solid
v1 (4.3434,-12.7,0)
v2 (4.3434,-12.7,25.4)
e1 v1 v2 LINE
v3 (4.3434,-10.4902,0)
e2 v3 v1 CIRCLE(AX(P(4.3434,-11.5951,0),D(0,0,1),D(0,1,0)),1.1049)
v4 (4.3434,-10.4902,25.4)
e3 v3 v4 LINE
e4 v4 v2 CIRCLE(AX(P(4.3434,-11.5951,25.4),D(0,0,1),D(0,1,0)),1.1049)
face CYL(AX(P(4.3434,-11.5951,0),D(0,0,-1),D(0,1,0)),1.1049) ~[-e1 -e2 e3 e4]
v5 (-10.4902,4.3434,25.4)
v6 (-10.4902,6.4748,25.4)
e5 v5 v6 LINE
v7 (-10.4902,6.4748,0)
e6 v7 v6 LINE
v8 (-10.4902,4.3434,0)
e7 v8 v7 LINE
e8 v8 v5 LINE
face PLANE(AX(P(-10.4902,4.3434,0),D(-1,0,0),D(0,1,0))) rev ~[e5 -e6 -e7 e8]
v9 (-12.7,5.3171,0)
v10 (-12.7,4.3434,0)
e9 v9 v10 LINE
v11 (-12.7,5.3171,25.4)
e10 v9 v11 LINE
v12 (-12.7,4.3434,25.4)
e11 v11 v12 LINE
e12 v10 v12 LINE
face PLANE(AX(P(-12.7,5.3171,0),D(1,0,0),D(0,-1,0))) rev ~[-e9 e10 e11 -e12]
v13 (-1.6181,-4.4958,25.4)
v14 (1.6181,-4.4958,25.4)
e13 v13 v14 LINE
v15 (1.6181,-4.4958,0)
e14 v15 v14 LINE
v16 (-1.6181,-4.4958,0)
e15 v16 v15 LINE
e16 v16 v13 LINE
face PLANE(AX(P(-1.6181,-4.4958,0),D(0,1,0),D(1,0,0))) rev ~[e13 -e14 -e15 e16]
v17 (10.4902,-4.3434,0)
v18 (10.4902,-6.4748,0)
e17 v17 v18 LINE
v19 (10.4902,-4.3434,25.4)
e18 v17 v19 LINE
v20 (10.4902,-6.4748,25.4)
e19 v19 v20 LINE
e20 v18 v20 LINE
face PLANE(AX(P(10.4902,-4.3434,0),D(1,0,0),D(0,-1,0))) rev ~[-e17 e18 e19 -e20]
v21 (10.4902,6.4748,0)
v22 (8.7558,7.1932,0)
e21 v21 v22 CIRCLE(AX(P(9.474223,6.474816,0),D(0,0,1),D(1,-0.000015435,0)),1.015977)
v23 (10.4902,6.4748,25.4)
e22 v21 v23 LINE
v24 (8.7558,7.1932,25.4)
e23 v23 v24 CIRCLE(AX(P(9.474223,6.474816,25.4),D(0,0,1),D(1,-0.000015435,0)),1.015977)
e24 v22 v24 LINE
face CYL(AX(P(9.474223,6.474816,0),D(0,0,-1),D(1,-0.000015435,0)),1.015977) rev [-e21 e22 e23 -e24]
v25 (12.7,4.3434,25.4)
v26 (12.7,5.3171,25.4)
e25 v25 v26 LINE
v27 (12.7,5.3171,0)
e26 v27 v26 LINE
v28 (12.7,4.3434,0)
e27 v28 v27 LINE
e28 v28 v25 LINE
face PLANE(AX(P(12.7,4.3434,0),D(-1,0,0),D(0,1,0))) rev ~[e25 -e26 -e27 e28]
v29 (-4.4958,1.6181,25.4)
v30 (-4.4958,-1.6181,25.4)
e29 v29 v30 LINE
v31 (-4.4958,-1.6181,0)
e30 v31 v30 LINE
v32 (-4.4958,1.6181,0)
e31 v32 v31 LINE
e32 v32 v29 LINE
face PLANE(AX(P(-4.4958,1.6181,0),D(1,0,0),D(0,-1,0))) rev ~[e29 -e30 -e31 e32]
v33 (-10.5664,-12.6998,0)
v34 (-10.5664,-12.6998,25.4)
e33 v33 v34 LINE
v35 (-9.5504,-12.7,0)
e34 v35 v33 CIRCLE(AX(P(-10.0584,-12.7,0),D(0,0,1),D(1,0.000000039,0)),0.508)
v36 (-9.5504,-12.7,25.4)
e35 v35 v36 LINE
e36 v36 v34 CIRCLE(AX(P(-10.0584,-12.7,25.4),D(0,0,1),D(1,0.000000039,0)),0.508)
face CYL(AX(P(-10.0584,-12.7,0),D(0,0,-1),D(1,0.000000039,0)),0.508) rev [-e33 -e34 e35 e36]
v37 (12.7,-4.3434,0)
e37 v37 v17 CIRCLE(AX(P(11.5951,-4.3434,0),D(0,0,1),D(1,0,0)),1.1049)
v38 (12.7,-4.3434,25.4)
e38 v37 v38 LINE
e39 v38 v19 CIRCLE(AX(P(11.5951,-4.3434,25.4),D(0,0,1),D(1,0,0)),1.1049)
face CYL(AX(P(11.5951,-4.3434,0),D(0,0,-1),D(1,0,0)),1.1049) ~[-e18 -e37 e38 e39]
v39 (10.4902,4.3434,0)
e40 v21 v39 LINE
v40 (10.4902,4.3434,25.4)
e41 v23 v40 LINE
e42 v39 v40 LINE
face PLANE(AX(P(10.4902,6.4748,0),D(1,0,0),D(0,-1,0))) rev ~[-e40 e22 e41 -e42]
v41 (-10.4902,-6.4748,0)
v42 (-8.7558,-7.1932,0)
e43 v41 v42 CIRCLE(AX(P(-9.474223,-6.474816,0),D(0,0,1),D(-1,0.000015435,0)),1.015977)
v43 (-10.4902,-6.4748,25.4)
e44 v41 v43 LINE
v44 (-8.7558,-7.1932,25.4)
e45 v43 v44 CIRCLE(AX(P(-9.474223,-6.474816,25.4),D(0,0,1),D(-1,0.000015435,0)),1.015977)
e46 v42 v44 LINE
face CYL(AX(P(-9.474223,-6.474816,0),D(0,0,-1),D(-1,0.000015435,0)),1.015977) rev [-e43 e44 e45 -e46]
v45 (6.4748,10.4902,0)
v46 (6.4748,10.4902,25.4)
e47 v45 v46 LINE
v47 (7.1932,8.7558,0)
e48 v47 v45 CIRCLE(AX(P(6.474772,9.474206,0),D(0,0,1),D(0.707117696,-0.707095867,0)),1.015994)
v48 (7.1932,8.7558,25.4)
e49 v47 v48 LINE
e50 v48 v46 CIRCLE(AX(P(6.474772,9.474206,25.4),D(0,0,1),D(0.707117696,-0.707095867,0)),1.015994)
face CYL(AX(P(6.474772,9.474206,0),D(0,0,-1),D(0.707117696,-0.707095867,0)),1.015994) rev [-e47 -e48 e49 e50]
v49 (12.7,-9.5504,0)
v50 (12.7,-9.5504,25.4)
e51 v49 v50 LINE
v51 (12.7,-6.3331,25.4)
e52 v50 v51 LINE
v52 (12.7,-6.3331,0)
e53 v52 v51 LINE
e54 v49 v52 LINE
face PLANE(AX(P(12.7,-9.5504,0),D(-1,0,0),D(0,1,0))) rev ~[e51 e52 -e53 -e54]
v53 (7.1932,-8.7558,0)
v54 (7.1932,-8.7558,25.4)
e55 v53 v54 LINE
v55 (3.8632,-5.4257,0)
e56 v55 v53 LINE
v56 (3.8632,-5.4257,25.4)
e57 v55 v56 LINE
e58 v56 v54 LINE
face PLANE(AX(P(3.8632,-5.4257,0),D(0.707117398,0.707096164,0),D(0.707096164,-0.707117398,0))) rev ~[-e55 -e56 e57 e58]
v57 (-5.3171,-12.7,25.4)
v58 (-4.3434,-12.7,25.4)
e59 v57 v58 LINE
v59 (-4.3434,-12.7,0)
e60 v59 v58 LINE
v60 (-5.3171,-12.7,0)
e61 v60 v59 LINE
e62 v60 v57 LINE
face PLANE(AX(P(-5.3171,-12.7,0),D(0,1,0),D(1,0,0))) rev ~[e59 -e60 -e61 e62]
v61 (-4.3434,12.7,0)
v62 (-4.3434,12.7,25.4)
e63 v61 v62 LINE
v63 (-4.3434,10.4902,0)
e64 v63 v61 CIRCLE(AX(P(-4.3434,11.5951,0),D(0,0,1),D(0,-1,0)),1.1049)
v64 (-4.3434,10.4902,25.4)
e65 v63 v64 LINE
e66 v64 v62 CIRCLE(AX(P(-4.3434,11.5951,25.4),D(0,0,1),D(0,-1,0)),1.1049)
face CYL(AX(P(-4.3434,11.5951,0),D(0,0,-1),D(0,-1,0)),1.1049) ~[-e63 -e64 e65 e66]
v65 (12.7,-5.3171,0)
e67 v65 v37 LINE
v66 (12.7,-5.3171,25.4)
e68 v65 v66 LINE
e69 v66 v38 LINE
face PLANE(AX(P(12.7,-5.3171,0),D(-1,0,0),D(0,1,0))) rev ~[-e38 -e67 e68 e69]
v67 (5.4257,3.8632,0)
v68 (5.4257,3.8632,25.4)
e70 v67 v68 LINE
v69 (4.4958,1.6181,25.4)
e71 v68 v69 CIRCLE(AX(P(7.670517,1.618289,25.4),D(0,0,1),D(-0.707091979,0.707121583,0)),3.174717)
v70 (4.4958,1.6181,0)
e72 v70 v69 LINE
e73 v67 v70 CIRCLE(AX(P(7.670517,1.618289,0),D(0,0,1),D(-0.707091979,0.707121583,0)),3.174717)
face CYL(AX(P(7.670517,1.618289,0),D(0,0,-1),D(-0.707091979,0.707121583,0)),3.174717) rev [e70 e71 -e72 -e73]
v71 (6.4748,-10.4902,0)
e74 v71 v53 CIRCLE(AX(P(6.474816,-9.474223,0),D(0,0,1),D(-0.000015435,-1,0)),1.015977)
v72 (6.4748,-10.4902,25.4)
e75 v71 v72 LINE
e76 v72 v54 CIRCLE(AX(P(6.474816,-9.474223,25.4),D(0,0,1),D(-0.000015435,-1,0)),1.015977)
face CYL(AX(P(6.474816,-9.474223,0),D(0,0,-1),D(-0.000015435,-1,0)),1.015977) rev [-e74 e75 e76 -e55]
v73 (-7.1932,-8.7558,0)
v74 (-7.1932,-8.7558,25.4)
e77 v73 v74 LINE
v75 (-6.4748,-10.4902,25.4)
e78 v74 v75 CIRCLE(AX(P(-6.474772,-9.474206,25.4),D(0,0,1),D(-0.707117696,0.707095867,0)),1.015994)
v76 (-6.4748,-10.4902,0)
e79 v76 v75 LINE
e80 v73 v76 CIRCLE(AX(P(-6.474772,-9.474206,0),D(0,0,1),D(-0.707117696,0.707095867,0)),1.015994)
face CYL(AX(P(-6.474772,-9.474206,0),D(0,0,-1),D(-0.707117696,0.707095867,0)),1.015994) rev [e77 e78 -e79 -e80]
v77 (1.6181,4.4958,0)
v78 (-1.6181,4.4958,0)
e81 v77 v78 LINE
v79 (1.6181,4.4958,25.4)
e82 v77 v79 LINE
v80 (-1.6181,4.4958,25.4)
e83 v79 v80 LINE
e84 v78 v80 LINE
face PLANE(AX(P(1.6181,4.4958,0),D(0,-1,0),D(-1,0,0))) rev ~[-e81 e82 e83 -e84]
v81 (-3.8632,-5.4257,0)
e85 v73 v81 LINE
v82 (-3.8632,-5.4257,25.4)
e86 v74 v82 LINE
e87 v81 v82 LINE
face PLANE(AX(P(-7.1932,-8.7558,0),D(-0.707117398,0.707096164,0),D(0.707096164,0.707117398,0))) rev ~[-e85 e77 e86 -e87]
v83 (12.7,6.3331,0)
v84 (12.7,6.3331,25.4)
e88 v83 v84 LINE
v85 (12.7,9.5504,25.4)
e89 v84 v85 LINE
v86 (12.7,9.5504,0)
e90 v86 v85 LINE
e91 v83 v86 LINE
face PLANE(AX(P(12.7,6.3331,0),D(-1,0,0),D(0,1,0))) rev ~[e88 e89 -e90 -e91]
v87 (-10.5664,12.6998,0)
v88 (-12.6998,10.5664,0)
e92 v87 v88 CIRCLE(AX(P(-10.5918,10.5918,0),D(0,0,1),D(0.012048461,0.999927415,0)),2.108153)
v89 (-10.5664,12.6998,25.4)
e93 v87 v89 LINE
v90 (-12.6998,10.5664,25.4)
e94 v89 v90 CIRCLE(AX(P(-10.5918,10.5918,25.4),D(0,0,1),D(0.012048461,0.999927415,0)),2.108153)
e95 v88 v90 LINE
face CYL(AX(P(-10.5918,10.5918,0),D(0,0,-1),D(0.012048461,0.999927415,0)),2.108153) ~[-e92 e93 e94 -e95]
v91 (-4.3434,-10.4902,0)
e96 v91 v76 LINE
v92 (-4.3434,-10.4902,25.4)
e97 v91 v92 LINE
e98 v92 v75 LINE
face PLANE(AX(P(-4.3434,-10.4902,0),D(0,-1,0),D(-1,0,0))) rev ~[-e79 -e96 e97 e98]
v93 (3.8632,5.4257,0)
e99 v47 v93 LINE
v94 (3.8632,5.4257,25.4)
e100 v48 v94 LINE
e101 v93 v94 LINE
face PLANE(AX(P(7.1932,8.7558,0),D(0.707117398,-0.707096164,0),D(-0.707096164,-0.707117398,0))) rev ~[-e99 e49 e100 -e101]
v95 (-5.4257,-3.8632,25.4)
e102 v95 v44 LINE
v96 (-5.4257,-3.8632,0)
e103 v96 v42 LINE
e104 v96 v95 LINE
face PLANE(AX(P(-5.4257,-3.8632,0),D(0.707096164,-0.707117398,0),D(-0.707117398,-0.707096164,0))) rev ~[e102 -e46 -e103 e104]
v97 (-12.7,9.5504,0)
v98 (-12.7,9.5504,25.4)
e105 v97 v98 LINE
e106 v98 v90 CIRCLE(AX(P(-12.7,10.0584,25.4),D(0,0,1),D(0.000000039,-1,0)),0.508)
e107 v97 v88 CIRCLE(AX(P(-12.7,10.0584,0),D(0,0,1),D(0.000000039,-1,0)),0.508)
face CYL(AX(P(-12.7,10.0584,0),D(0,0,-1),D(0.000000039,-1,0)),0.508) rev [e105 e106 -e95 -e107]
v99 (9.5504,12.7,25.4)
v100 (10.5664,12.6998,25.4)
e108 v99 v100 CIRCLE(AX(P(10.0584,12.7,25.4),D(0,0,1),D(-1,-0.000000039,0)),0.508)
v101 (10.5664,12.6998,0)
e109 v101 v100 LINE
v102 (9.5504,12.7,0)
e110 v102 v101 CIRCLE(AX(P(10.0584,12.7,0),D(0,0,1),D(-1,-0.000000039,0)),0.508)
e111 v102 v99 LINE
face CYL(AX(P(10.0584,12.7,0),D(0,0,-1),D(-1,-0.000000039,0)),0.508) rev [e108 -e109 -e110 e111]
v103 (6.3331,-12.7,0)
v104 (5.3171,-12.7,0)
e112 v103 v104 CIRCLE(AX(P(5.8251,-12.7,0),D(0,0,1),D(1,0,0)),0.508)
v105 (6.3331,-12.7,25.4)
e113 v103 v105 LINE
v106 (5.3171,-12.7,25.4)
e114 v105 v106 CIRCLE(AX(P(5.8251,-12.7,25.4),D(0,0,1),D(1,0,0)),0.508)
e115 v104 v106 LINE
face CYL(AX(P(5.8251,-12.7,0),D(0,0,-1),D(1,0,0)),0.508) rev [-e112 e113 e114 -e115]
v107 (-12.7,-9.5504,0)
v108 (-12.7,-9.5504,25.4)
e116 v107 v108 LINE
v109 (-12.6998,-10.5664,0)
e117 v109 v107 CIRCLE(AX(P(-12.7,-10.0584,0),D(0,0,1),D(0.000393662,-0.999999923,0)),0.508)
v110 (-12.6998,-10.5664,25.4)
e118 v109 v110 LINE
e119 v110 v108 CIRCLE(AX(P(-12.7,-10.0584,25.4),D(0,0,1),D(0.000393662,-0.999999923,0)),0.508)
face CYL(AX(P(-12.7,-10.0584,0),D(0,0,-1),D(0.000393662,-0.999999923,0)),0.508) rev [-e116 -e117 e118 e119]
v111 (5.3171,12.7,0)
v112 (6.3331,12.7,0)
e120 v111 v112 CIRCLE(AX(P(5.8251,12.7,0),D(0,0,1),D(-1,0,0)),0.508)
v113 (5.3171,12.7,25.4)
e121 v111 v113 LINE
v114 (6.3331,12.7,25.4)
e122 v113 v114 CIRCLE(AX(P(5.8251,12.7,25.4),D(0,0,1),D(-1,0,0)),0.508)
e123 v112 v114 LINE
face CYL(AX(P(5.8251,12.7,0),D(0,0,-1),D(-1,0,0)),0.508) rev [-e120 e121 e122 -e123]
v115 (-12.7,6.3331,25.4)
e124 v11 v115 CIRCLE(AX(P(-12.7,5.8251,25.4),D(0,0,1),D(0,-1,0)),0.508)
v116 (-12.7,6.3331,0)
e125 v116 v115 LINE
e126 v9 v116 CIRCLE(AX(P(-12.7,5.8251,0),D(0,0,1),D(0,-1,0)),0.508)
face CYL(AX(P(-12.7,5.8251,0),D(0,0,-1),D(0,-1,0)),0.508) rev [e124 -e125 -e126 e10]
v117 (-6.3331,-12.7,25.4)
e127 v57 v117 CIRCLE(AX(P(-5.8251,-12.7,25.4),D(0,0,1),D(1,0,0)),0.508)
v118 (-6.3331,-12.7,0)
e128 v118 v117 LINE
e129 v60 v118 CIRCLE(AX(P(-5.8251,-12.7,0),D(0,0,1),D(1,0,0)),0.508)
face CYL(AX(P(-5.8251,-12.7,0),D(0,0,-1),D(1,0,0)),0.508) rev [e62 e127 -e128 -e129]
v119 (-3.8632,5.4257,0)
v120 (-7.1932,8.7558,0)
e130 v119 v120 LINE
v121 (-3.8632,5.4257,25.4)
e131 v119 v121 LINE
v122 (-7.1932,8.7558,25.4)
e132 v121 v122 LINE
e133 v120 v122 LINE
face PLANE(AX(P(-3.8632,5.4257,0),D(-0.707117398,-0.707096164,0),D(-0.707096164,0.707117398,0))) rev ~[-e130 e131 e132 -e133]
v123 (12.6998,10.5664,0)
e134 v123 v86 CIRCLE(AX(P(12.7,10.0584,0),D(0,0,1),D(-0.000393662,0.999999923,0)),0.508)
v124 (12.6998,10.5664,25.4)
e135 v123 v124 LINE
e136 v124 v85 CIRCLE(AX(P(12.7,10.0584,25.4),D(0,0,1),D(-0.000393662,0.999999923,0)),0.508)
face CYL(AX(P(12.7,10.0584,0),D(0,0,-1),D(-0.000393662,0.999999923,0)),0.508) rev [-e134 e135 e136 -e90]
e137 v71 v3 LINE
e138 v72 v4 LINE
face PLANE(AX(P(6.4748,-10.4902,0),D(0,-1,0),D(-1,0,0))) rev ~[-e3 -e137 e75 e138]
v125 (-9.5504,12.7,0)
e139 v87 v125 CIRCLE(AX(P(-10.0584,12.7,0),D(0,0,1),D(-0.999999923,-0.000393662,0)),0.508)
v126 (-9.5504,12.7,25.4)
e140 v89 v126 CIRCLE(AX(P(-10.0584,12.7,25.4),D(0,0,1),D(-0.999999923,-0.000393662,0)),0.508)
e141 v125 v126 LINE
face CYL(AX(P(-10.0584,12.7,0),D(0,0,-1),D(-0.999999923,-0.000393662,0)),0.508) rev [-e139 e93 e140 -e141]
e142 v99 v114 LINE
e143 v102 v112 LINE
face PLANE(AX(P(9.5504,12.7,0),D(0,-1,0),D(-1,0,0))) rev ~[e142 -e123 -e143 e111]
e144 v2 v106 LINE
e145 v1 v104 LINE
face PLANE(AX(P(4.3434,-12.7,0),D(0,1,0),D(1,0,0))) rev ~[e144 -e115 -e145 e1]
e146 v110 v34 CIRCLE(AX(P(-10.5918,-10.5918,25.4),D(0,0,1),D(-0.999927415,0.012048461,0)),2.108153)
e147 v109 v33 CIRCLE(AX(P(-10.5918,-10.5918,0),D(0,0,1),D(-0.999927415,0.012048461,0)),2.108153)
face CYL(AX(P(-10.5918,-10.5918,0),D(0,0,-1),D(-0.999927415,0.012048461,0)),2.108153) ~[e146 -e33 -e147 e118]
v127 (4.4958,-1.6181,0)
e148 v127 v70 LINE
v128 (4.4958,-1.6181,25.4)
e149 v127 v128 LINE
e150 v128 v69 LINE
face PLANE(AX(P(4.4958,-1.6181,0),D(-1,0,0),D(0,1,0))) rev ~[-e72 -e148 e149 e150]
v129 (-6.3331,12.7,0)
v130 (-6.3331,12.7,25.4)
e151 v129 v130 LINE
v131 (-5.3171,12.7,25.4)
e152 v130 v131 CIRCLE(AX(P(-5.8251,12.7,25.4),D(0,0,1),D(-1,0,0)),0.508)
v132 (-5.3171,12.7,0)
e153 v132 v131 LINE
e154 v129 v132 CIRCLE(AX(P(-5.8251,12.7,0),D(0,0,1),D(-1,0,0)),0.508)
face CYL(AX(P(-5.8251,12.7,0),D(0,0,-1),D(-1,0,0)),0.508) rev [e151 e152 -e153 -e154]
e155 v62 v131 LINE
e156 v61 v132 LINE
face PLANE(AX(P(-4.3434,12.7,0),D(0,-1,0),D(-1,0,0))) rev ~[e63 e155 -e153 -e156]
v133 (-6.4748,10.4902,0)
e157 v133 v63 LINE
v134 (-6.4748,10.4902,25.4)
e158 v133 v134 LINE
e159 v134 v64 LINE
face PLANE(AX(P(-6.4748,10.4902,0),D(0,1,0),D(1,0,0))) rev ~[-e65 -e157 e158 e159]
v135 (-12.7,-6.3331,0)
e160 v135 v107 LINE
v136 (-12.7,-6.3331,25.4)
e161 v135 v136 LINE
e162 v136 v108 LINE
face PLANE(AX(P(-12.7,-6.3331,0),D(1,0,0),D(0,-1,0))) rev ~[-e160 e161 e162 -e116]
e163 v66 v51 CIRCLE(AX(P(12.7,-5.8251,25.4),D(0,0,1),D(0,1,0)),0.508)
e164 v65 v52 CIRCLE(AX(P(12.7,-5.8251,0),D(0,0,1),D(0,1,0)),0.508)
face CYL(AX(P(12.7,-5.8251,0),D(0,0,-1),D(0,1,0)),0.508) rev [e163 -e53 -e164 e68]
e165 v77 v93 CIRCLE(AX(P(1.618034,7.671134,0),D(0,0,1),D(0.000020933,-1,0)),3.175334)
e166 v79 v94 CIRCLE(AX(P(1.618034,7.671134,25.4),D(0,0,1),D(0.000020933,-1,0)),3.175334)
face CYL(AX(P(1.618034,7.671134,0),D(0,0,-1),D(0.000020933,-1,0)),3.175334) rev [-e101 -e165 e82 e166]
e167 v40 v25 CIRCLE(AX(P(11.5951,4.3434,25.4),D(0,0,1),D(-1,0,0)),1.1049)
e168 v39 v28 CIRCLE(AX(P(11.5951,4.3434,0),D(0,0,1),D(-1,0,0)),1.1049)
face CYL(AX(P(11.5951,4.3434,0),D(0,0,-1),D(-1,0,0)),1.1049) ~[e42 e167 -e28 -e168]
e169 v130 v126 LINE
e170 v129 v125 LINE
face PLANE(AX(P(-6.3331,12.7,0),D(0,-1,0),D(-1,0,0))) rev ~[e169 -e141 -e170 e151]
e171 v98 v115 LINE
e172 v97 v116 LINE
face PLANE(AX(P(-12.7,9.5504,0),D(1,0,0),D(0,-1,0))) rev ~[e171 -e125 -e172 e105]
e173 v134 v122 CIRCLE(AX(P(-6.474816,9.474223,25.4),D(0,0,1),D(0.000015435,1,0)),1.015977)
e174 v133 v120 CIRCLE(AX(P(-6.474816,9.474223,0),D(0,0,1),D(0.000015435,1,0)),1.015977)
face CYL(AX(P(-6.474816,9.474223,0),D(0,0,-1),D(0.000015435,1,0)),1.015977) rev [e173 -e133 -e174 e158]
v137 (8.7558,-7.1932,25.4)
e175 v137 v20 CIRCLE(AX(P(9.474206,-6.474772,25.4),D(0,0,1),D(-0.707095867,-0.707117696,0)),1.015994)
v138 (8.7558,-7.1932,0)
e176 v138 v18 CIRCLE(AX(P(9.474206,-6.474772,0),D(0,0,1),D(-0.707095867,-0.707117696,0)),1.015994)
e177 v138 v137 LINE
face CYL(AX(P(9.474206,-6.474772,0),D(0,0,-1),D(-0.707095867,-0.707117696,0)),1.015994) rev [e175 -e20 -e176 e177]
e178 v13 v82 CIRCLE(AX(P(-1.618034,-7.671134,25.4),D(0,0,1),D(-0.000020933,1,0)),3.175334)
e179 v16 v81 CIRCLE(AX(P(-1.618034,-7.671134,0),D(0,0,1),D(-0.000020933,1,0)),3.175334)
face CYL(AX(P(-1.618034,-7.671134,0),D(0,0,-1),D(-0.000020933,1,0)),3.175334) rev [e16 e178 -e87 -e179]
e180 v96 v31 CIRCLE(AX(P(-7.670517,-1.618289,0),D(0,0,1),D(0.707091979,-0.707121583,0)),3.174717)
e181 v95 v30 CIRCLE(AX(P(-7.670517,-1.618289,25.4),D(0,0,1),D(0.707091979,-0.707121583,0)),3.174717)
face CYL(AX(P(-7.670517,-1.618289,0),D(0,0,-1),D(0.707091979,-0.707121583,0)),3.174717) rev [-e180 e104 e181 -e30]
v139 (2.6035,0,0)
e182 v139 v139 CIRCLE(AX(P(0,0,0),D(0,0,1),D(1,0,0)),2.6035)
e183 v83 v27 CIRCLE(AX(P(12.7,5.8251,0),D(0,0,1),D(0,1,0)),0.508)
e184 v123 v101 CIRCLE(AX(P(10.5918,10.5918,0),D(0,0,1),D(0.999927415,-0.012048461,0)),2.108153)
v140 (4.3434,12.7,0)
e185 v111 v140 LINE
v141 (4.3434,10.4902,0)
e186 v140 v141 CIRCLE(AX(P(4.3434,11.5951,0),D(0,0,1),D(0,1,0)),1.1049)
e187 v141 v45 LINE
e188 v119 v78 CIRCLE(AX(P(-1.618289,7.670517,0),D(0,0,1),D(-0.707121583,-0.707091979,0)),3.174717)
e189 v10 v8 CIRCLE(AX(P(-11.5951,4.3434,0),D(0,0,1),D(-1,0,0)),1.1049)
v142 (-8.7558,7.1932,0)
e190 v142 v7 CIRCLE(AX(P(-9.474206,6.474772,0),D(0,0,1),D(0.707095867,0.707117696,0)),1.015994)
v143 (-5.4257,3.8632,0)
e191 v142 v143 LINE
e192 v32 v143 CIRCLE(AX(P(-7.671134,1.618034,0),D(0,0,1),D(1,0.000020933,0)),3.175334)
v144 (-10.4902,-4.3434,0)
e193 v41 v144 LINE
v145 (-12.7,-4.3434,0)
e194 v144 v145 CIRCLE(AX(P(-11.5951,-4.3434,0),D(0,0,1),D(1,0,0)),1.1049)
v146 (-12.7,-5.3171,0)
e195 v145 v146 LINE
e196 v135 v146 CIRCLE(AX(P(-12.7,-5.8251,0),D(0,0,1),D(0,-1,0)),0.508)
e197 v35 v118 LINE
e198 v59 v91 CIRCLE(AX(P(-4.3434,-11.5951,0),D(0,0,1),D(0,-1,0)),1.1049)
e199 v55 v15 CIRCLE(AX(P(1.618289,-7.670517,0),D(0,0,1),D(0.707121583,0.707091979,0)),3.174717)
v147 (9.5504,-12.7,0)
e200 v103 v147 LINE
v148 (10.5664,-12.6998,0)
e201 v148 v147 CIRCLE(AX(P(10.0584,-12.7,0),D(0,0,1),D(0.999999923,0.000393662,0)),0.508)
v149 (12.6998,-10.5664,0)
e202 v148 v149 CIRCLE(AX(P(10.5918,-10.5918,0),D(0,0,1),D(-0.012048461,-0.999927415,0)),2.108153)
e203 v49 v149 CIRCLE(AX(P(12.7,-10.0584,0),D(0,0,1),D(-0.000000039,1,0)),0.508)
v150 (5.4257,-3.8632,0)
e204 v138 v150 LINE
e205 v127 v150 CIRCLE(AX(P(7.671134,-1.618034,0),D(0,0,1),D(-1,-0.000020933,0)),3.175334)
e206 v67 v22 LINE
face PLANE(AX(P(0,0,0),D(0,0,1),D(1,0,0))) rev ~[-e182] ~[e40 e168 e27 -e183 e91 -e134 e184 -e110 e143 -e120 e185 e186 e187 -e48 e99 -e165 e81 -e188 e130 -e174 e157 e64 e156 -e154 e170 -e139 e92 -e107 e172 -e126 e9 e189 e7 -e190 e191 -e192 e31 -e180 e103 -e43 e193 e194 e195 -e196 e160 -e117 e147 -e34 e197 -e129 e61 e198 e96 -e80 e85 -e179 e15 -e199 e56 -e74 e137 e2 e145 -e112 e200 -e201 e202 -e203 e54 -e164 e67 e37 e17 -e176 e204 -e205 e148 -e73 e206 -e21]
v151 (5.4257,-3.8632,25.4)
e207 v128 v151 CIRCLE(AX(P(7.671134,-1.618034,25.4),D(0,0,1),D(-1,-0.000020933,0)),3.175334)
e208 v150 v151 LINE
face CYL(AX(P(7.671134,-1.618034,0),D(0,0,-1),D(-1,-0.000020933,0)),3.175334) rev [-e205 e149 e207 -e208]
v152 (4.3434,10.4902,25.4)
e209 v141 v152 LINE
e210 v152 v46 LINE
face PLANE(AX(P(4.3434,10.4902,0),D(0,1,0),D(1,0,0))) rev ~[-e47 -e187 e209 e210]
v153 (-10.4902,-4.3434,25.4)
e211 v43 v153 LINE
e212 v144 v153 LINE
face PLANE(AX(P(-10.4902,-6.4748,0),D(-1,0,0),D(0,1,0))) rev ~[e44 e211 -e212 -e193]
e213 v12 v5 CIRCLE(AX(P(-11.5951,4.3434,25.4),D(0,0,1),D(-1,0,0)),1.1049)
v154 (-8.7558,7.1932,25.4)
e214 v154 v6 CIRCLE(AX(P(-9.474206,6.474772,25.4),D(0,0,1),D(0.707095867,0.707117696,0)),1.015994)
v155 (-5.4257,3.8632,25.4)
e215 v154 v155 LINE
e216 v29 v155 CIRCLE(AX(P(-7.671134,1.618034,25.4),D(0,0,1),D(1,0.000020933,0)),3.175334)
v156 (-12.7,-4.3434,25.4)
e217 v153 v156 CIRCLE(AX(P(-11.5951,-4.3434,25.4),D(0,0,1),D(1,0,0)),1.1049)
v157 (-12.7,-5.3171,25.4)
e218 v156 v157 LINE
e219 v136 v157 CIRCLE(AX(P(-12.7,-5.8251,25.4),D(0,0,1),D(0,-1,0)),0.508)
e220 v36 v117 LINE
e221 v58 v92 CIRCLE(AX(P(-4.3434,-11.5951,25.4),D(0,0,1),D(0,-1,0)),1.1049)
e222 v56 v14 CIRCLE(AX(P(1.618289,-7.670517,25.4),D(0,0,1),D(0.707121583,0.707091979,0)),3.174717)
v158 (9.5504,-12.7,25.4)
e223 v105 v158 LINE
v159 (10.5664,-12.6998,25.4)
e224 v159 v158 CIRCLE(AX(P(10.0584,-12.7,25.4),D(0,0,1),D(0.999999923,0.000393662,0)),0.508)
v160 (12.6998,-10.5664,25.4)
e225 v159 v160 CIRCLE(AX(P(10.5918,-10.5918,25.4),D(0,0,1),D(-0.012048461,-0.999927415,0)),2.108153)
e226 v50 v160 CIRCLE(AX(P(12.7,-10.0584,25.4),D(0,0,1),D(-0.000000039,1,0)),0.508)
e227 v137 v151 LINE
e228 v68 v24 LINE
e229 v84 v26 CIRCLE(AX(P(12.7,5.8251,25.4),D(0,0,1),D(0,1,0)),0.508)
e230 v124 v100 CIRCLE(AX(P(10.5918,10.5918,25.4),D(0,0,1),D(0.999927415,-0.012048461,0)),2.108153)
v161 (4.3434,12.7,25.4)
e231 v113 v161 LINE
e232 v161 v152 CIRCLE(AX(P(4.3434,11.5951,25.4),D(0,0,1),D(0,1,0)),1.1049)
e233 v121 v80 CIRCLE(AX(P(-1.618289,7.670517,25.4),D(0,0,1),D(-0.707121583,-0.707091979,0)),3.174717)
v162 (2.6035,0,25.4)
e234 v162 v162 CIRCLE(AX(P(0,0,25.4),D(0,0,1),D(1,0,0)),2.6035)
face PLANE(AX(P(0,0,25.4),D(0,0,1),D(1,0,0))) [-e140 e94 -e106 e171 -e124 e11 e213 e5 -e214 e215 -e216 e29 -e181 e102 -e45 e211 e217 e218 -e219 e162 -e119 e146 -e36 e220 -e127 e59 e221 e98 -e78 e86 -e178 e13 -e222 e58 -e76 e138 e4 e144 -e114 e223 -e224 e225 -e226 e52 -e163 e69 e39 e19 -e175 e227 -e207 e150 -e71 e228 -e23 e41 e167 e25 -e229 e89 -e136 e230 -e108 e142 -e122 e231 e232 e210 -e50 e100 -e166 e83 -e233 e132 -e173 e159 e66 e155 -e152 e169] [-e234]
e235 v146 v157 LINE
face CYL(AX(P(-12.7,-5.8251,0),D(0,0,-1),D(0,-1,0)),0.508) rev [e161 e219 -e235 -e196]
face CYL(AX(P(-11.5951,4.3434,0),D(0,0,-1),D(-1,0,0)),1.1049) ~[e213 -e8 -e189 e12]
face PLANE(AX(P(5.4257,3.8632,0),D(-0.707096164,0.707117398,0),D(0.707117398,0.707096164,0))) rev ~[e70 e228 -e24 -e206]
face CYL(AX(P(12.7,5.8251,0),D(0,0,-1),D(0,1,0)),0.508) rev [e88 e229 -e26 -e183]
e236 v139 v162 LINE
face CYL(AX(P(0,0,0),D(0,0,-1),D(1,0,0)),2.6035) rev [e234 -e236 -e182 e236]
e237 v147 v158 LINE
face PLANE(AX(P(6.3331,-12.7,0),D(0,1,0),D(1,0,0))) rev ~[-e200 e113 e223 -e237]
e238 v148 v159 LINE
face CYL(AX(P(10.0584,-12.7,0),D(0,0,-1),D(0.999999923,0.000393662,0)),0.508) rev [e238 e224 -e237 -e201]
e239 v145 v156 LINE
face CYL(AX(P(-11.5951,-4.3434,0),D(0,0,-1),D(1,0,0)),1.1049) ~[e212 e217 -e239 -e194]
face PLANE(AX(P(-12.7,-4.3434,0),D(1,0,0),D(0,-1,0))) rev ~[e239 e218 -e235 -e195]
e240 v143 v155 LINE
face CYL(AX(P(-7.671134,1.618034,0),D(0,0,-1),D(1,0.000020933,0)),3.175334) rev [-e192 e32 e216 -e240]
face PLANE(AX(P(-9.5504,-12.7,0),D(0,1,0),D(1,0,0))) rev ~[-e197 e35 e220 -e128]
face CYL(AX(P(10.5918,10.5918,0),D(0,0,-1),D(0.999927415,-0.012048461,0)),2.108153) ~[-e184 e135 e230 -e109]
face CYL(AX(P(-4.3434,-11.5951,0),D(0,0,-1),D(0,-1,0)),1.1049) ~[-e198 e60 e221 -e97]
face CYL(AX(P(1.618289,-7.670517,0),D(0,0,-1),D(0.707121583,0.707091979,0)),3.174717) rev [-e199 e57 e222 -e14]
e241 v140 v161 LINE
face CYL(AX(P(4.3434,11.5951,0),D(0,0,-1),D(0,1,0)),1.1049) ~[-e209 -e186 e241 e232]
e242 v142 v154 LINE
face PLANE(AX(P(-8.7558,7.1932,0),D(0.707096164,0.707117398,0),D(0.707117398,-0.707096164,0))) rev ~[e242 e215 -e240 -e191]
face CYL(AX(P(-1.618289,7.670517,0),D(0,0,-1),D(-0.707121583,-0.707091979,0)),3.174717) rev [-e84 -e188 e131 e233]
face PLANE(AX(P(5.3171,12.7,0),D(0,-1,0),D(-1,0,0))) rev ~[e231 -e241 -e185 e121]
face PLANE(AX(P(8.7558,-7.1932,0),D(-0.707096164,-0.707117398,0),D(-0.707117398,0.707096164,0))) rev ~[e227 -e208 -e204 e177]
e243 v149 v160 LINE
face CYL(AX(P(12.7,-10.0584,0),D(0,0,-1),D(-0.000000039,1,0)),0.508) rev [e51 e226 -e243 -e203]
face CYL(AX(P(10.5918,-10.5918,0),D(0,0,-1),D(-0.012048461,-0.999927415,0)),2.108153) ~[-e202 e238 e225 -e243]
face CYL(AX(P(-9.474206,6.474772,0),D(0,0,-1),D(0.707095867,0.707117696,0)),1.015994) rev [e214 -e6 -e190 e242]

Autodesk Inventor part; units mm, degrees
ref_plane "YZ Plane" through (0, 0, 0) normal (1, 0, 0) x (0, 1, 0)
ref_plane "XZ Plane" through (0, 0, 0) normal (0, 1, 0) x (-1, 0, 0)
ref_plane "XY Plane" through (0, 0, 0) normal (0, 0, 1) x (1, 0, 0)
sketch "Sketch1" plane through (0, 0, 0) normal (0, 0, 1) x (1, 0, 0)
  arc A0 (-12.6998, -10.5664) -> (-10.5664, -12.6998) centre (-10.5918, -10.5918) ccw
  arc A1 (-9.5504, -12.7) -> (-10.5664, -12.6998) centre (-10.0584, -12.7) ccw
  line L0 (-9.5504, -12.7) -> (-6.3331, -12.7)
  arc A2 (-5.3171, -12.7) -> (-6.3331, -12.7) centre (-5.8251, -12.7) ccw
  line L1 (-5.3171, -12.7) -> (-4.3434, -12.7)
  arc A3 (-4.3434, -12.7) -> (-4.3434, -10.4902) centre (-4.3434, -11.5951) ccw
  line L2 (-4.3434, -10.4902) -> (-6.4748, -10.4902)
  arc A4 (-7.1932, -8.7558) -> (-6.4748, -10.4902) centre (-6.4748, -9.4742) ccw
  line L3 (-7.1932, -8.7558) -> (-3.8632, -5.4257)
  arc A5 (-1.6181, -4.4958) -> (-3.8632, -5.4257) centre (-1.6181, -7.6708) ccw
  line L4 (-1.6181, -4.4958) -> (1.6181, -4.4958)
  arc A6 (3.8632, -5.4257) -> (1.6181, -4.4958) centre (1.6181, -7.6708) ccw
  line L5 (3.8632, -5.4257) -> (7.1932, -8.7558)
  arc A7 (6.4748, -10.4902) -> (7.1932, -8.7558) centre (6.4748, -9.4742) ccw
  line L6 (6.4748, -10.4902) -> (4.3434, -10.4902)
  arc A8 (4.3434, -10.4902) -> (4.3434, -12.7) centre (4.3434, -11.5951) ccw
  line L7 (4.3434, -12.7) -> (5.3171, -12.7)
  arc A9 (6.3331, -12.7) -> (5.3171, -12.7) centre (5.8251, -12.7) ccw
  line L8 (6.3331, -12.7) -> (9.5504, -12.7)
  arc A10 (10.5664, -12.6998) -> (9.5504, -12.7) centre (10.0584, -12.7) ccw
  arc A11 (10.5664, -12.6998) -> (12.6998, -10.5664) centre (10.5918, -10.5918) ccw
  arc A12 (12.7, -9.5504) -> (12.6998, -10.5664) centre (12.7, -10.0584) ccw
  line L9 (12.7, -9.5504) -> (12.7, -6.3331)
  arc A13 (12.7, -5.3171) -> (12.7, -6.3331) centre (12.7, -5.8251) ccw
  line L10 (12.7, -5.3171) -> (12.7, -4.3434)
  arc A14 (12.7, -4.3434) -> (10.4902, -4.3434) centre (11.5951, -4.3434) ccw
  line L11 (10.4902, -4.3434) -> (10.4902, -6.4748)
  arc A15 (8.7558, -7.1932) -> (10.4902, -6.4748) centre (9.4742, -6.4748) ccw
  line L12 (8.7558, -7.1932) -> (5.4257, -3.8632)
  arc A16 (4.4958, -1.6181) -> (5.4257, -3.8632) centre (7.6708, -1.6181) ccw
  line L13 (4.4958, -1.6181) -> (4.4958, 1.6181)
  arc A17 (5.4257, 3.8632) -> (4.4958, 1.6181) centre (7.6708, 1.6181) ccw
  line L14 (5.4257, 3.8632) -> (8.7558, 7.1932)
  arc A18 (10.4902, 6.4748) -> (8.7558, 7.1932) centre (9.4742, 6.4748) ccw
  line L15 (10.4902, 6.4748) -> (10.4902, 4.3434)
  arc A19 (10.4902, 4.3434) -> (12.7, 4.3434) centre (11.5951, 4.3434) ccw
  line L16 (12.7, 4.3434) -> (12.7, 5.3171)
  arc A20 (12.7, 6.3331) -> (12.7, 5.3171) centre (12.7, 5.8251) ccw
  line L17 (12.7, 6.3331) -> (12.7, 9.5504)
  arc A21 (12.6998, 10.5664) -> (12.7, 9.5504) centre (12.7, 10.0584) ccw
  arc A22 (12.6998, 10.5664) -> (10.5664, 12.6998) centre (10.5918, 10.5918) ccw
  arc A23 (9.5504, 12.7) -> (10.5664, 12.6998) centre (10.0584, 12.7) ccw
  line L18 (9.5504, 12.7) -> (6.3331, 12.7)
  arc A24 (5.3171, 12.7) -> (6.3331, 12.7) centre (5.8251, 12.7) ccw
  line L19 (5.3171, 12.7) -> (4.3434, 12.7)
  arc A25 (4.3434, 12.7) -> (4.3434, 10.4902) centre (4.3434, 11.5951) ccw
  line L20 (4.3434, 10.4902) -> (6.4748, 10.4902)
  arc A26 (7.1932, 8.7558) -> (6.4748, 10.4902) centre (6.4748, 9.4742) ccw
  line L21 (7.1932, 8.7558) -> (3.8632, 5.4257)
  arc A27 (1.6181, 4.4958) -> (3.8632, 5.4257) centre (1.6181, 7.6708) ccw
  line L22 (1.6181, 4.4958) -> (-1.6181, 4.4958)
  arc A28 (-3.8632, 5.4257) -> (-1.6181, 4.4958) centre (-1.6181, 7.6708) ccw
  line L23 (-3.8632, 5.4257) -> (-7.1932, 8.7558)
  arc A29 (-6.4748, 10.4902) -> (-7.1932, 8.7558) centre (-6.4748, 9.4742) ccw
  line L24 (-6.4748, 10.4902) -> (-4.3434, 10.4902)
  arc A30 (-4.3434, 10.4902) -> (-4.3434, 12.7) centre (-4.3434, 11.5951) ccw
  line L25 (-4.3434, 12.7) -> (-5.3171, 12.7)
  arc A31 (-6.3331, 12.7) -> (-5.3171, 12.7) centre (-5.8251, 12.7) ccw
  line L26 (-6.3331, 12.7) -> (-9.5504, 12.7)
  arc A32 (-10.5664, 12.6998) -> (-9.5504, 12.7) centre (-10.0584, 12.7) ccw
  arc A33 (-10.5664, 12.6998) -> (-12.6998, 10.5664) centre (-10.5918, 10.5918) ccw
  arc A34 (-12.7, 9.5504) -> (-12.6998, 10.5664) centre (-12.7, 10.0584) ccw
  line L27 (-12.7, 9.5504) -> (-12.7, 6.3331)
  arc A35 (-12.7, 5.3171) -> (-12.7, 6.3331) centre (-12.7, 5.8251) ccw
  line L28 (-12.7, 5.3171) -> (-12.7, 4.3434)
  arc A36 (-12.7, 4.3434) -> (-10.4902, 4.3434) centre (-11.5951, 4.3434) ccw
  line L29 (-10.4902, 4.3434) -> (-10.4902, 6.4748)
  arc A37 (-8.7558, 7.1932) -> (-10.4902, 6.4748) centre (-9.4742, 6.4748) ccw
  line L30 (-8.7558, 7.1932) -> (-5.4257, 3.8632)
  arc A38 (-4.4958, 1.6181) -> (-5.4257, 3.8632) centre (-7.6708, 1.6181) ccw
  line L31 (-4.4958, 1.6181) -> (-4.4958, -1.6181)
  arc A39 (-5.4257, -3.8632) -> (-4.4958, -1.6181) centre (-7.6708, -1.6181) ccw
  line L32 (-5.4257, -3.8632) -> (-8.7558, -7.1932)
  arc A40 (-10.4902, -6.4748) -> (-8.7558, -7.1932) centre (-9.4742, -6.4748) ccw
  line L33 (-10.4902, -6.4748) -> (-10.4902, -4.3434)
  arc A41 (-10.4902, -4.3434) -> (-12.7, -4.3434) centre (-11.5951, -4.3434) ccw
  line L34 (-12.7, -4.3434) -> (-12.7, -5.3171)
  arc A42 (-12.7, -6.3331) -> (-12.7, -5.3171) centre (-12.7, -5.8251) ccw
  line L35 (-12.7, -6.3331) -> (-12.7, -9.5504)
  arc A43 (-12.6998, -10.5664) -> (-12.7, -9.5504) centre (-12.7, -10.0584) ccw
  circle A44 centre (0, 0) radius 2.6035
extrude "Extrusion1" add sketch "Sketch1" along normal blind 25.4
properties part number "1010-1-CL"
